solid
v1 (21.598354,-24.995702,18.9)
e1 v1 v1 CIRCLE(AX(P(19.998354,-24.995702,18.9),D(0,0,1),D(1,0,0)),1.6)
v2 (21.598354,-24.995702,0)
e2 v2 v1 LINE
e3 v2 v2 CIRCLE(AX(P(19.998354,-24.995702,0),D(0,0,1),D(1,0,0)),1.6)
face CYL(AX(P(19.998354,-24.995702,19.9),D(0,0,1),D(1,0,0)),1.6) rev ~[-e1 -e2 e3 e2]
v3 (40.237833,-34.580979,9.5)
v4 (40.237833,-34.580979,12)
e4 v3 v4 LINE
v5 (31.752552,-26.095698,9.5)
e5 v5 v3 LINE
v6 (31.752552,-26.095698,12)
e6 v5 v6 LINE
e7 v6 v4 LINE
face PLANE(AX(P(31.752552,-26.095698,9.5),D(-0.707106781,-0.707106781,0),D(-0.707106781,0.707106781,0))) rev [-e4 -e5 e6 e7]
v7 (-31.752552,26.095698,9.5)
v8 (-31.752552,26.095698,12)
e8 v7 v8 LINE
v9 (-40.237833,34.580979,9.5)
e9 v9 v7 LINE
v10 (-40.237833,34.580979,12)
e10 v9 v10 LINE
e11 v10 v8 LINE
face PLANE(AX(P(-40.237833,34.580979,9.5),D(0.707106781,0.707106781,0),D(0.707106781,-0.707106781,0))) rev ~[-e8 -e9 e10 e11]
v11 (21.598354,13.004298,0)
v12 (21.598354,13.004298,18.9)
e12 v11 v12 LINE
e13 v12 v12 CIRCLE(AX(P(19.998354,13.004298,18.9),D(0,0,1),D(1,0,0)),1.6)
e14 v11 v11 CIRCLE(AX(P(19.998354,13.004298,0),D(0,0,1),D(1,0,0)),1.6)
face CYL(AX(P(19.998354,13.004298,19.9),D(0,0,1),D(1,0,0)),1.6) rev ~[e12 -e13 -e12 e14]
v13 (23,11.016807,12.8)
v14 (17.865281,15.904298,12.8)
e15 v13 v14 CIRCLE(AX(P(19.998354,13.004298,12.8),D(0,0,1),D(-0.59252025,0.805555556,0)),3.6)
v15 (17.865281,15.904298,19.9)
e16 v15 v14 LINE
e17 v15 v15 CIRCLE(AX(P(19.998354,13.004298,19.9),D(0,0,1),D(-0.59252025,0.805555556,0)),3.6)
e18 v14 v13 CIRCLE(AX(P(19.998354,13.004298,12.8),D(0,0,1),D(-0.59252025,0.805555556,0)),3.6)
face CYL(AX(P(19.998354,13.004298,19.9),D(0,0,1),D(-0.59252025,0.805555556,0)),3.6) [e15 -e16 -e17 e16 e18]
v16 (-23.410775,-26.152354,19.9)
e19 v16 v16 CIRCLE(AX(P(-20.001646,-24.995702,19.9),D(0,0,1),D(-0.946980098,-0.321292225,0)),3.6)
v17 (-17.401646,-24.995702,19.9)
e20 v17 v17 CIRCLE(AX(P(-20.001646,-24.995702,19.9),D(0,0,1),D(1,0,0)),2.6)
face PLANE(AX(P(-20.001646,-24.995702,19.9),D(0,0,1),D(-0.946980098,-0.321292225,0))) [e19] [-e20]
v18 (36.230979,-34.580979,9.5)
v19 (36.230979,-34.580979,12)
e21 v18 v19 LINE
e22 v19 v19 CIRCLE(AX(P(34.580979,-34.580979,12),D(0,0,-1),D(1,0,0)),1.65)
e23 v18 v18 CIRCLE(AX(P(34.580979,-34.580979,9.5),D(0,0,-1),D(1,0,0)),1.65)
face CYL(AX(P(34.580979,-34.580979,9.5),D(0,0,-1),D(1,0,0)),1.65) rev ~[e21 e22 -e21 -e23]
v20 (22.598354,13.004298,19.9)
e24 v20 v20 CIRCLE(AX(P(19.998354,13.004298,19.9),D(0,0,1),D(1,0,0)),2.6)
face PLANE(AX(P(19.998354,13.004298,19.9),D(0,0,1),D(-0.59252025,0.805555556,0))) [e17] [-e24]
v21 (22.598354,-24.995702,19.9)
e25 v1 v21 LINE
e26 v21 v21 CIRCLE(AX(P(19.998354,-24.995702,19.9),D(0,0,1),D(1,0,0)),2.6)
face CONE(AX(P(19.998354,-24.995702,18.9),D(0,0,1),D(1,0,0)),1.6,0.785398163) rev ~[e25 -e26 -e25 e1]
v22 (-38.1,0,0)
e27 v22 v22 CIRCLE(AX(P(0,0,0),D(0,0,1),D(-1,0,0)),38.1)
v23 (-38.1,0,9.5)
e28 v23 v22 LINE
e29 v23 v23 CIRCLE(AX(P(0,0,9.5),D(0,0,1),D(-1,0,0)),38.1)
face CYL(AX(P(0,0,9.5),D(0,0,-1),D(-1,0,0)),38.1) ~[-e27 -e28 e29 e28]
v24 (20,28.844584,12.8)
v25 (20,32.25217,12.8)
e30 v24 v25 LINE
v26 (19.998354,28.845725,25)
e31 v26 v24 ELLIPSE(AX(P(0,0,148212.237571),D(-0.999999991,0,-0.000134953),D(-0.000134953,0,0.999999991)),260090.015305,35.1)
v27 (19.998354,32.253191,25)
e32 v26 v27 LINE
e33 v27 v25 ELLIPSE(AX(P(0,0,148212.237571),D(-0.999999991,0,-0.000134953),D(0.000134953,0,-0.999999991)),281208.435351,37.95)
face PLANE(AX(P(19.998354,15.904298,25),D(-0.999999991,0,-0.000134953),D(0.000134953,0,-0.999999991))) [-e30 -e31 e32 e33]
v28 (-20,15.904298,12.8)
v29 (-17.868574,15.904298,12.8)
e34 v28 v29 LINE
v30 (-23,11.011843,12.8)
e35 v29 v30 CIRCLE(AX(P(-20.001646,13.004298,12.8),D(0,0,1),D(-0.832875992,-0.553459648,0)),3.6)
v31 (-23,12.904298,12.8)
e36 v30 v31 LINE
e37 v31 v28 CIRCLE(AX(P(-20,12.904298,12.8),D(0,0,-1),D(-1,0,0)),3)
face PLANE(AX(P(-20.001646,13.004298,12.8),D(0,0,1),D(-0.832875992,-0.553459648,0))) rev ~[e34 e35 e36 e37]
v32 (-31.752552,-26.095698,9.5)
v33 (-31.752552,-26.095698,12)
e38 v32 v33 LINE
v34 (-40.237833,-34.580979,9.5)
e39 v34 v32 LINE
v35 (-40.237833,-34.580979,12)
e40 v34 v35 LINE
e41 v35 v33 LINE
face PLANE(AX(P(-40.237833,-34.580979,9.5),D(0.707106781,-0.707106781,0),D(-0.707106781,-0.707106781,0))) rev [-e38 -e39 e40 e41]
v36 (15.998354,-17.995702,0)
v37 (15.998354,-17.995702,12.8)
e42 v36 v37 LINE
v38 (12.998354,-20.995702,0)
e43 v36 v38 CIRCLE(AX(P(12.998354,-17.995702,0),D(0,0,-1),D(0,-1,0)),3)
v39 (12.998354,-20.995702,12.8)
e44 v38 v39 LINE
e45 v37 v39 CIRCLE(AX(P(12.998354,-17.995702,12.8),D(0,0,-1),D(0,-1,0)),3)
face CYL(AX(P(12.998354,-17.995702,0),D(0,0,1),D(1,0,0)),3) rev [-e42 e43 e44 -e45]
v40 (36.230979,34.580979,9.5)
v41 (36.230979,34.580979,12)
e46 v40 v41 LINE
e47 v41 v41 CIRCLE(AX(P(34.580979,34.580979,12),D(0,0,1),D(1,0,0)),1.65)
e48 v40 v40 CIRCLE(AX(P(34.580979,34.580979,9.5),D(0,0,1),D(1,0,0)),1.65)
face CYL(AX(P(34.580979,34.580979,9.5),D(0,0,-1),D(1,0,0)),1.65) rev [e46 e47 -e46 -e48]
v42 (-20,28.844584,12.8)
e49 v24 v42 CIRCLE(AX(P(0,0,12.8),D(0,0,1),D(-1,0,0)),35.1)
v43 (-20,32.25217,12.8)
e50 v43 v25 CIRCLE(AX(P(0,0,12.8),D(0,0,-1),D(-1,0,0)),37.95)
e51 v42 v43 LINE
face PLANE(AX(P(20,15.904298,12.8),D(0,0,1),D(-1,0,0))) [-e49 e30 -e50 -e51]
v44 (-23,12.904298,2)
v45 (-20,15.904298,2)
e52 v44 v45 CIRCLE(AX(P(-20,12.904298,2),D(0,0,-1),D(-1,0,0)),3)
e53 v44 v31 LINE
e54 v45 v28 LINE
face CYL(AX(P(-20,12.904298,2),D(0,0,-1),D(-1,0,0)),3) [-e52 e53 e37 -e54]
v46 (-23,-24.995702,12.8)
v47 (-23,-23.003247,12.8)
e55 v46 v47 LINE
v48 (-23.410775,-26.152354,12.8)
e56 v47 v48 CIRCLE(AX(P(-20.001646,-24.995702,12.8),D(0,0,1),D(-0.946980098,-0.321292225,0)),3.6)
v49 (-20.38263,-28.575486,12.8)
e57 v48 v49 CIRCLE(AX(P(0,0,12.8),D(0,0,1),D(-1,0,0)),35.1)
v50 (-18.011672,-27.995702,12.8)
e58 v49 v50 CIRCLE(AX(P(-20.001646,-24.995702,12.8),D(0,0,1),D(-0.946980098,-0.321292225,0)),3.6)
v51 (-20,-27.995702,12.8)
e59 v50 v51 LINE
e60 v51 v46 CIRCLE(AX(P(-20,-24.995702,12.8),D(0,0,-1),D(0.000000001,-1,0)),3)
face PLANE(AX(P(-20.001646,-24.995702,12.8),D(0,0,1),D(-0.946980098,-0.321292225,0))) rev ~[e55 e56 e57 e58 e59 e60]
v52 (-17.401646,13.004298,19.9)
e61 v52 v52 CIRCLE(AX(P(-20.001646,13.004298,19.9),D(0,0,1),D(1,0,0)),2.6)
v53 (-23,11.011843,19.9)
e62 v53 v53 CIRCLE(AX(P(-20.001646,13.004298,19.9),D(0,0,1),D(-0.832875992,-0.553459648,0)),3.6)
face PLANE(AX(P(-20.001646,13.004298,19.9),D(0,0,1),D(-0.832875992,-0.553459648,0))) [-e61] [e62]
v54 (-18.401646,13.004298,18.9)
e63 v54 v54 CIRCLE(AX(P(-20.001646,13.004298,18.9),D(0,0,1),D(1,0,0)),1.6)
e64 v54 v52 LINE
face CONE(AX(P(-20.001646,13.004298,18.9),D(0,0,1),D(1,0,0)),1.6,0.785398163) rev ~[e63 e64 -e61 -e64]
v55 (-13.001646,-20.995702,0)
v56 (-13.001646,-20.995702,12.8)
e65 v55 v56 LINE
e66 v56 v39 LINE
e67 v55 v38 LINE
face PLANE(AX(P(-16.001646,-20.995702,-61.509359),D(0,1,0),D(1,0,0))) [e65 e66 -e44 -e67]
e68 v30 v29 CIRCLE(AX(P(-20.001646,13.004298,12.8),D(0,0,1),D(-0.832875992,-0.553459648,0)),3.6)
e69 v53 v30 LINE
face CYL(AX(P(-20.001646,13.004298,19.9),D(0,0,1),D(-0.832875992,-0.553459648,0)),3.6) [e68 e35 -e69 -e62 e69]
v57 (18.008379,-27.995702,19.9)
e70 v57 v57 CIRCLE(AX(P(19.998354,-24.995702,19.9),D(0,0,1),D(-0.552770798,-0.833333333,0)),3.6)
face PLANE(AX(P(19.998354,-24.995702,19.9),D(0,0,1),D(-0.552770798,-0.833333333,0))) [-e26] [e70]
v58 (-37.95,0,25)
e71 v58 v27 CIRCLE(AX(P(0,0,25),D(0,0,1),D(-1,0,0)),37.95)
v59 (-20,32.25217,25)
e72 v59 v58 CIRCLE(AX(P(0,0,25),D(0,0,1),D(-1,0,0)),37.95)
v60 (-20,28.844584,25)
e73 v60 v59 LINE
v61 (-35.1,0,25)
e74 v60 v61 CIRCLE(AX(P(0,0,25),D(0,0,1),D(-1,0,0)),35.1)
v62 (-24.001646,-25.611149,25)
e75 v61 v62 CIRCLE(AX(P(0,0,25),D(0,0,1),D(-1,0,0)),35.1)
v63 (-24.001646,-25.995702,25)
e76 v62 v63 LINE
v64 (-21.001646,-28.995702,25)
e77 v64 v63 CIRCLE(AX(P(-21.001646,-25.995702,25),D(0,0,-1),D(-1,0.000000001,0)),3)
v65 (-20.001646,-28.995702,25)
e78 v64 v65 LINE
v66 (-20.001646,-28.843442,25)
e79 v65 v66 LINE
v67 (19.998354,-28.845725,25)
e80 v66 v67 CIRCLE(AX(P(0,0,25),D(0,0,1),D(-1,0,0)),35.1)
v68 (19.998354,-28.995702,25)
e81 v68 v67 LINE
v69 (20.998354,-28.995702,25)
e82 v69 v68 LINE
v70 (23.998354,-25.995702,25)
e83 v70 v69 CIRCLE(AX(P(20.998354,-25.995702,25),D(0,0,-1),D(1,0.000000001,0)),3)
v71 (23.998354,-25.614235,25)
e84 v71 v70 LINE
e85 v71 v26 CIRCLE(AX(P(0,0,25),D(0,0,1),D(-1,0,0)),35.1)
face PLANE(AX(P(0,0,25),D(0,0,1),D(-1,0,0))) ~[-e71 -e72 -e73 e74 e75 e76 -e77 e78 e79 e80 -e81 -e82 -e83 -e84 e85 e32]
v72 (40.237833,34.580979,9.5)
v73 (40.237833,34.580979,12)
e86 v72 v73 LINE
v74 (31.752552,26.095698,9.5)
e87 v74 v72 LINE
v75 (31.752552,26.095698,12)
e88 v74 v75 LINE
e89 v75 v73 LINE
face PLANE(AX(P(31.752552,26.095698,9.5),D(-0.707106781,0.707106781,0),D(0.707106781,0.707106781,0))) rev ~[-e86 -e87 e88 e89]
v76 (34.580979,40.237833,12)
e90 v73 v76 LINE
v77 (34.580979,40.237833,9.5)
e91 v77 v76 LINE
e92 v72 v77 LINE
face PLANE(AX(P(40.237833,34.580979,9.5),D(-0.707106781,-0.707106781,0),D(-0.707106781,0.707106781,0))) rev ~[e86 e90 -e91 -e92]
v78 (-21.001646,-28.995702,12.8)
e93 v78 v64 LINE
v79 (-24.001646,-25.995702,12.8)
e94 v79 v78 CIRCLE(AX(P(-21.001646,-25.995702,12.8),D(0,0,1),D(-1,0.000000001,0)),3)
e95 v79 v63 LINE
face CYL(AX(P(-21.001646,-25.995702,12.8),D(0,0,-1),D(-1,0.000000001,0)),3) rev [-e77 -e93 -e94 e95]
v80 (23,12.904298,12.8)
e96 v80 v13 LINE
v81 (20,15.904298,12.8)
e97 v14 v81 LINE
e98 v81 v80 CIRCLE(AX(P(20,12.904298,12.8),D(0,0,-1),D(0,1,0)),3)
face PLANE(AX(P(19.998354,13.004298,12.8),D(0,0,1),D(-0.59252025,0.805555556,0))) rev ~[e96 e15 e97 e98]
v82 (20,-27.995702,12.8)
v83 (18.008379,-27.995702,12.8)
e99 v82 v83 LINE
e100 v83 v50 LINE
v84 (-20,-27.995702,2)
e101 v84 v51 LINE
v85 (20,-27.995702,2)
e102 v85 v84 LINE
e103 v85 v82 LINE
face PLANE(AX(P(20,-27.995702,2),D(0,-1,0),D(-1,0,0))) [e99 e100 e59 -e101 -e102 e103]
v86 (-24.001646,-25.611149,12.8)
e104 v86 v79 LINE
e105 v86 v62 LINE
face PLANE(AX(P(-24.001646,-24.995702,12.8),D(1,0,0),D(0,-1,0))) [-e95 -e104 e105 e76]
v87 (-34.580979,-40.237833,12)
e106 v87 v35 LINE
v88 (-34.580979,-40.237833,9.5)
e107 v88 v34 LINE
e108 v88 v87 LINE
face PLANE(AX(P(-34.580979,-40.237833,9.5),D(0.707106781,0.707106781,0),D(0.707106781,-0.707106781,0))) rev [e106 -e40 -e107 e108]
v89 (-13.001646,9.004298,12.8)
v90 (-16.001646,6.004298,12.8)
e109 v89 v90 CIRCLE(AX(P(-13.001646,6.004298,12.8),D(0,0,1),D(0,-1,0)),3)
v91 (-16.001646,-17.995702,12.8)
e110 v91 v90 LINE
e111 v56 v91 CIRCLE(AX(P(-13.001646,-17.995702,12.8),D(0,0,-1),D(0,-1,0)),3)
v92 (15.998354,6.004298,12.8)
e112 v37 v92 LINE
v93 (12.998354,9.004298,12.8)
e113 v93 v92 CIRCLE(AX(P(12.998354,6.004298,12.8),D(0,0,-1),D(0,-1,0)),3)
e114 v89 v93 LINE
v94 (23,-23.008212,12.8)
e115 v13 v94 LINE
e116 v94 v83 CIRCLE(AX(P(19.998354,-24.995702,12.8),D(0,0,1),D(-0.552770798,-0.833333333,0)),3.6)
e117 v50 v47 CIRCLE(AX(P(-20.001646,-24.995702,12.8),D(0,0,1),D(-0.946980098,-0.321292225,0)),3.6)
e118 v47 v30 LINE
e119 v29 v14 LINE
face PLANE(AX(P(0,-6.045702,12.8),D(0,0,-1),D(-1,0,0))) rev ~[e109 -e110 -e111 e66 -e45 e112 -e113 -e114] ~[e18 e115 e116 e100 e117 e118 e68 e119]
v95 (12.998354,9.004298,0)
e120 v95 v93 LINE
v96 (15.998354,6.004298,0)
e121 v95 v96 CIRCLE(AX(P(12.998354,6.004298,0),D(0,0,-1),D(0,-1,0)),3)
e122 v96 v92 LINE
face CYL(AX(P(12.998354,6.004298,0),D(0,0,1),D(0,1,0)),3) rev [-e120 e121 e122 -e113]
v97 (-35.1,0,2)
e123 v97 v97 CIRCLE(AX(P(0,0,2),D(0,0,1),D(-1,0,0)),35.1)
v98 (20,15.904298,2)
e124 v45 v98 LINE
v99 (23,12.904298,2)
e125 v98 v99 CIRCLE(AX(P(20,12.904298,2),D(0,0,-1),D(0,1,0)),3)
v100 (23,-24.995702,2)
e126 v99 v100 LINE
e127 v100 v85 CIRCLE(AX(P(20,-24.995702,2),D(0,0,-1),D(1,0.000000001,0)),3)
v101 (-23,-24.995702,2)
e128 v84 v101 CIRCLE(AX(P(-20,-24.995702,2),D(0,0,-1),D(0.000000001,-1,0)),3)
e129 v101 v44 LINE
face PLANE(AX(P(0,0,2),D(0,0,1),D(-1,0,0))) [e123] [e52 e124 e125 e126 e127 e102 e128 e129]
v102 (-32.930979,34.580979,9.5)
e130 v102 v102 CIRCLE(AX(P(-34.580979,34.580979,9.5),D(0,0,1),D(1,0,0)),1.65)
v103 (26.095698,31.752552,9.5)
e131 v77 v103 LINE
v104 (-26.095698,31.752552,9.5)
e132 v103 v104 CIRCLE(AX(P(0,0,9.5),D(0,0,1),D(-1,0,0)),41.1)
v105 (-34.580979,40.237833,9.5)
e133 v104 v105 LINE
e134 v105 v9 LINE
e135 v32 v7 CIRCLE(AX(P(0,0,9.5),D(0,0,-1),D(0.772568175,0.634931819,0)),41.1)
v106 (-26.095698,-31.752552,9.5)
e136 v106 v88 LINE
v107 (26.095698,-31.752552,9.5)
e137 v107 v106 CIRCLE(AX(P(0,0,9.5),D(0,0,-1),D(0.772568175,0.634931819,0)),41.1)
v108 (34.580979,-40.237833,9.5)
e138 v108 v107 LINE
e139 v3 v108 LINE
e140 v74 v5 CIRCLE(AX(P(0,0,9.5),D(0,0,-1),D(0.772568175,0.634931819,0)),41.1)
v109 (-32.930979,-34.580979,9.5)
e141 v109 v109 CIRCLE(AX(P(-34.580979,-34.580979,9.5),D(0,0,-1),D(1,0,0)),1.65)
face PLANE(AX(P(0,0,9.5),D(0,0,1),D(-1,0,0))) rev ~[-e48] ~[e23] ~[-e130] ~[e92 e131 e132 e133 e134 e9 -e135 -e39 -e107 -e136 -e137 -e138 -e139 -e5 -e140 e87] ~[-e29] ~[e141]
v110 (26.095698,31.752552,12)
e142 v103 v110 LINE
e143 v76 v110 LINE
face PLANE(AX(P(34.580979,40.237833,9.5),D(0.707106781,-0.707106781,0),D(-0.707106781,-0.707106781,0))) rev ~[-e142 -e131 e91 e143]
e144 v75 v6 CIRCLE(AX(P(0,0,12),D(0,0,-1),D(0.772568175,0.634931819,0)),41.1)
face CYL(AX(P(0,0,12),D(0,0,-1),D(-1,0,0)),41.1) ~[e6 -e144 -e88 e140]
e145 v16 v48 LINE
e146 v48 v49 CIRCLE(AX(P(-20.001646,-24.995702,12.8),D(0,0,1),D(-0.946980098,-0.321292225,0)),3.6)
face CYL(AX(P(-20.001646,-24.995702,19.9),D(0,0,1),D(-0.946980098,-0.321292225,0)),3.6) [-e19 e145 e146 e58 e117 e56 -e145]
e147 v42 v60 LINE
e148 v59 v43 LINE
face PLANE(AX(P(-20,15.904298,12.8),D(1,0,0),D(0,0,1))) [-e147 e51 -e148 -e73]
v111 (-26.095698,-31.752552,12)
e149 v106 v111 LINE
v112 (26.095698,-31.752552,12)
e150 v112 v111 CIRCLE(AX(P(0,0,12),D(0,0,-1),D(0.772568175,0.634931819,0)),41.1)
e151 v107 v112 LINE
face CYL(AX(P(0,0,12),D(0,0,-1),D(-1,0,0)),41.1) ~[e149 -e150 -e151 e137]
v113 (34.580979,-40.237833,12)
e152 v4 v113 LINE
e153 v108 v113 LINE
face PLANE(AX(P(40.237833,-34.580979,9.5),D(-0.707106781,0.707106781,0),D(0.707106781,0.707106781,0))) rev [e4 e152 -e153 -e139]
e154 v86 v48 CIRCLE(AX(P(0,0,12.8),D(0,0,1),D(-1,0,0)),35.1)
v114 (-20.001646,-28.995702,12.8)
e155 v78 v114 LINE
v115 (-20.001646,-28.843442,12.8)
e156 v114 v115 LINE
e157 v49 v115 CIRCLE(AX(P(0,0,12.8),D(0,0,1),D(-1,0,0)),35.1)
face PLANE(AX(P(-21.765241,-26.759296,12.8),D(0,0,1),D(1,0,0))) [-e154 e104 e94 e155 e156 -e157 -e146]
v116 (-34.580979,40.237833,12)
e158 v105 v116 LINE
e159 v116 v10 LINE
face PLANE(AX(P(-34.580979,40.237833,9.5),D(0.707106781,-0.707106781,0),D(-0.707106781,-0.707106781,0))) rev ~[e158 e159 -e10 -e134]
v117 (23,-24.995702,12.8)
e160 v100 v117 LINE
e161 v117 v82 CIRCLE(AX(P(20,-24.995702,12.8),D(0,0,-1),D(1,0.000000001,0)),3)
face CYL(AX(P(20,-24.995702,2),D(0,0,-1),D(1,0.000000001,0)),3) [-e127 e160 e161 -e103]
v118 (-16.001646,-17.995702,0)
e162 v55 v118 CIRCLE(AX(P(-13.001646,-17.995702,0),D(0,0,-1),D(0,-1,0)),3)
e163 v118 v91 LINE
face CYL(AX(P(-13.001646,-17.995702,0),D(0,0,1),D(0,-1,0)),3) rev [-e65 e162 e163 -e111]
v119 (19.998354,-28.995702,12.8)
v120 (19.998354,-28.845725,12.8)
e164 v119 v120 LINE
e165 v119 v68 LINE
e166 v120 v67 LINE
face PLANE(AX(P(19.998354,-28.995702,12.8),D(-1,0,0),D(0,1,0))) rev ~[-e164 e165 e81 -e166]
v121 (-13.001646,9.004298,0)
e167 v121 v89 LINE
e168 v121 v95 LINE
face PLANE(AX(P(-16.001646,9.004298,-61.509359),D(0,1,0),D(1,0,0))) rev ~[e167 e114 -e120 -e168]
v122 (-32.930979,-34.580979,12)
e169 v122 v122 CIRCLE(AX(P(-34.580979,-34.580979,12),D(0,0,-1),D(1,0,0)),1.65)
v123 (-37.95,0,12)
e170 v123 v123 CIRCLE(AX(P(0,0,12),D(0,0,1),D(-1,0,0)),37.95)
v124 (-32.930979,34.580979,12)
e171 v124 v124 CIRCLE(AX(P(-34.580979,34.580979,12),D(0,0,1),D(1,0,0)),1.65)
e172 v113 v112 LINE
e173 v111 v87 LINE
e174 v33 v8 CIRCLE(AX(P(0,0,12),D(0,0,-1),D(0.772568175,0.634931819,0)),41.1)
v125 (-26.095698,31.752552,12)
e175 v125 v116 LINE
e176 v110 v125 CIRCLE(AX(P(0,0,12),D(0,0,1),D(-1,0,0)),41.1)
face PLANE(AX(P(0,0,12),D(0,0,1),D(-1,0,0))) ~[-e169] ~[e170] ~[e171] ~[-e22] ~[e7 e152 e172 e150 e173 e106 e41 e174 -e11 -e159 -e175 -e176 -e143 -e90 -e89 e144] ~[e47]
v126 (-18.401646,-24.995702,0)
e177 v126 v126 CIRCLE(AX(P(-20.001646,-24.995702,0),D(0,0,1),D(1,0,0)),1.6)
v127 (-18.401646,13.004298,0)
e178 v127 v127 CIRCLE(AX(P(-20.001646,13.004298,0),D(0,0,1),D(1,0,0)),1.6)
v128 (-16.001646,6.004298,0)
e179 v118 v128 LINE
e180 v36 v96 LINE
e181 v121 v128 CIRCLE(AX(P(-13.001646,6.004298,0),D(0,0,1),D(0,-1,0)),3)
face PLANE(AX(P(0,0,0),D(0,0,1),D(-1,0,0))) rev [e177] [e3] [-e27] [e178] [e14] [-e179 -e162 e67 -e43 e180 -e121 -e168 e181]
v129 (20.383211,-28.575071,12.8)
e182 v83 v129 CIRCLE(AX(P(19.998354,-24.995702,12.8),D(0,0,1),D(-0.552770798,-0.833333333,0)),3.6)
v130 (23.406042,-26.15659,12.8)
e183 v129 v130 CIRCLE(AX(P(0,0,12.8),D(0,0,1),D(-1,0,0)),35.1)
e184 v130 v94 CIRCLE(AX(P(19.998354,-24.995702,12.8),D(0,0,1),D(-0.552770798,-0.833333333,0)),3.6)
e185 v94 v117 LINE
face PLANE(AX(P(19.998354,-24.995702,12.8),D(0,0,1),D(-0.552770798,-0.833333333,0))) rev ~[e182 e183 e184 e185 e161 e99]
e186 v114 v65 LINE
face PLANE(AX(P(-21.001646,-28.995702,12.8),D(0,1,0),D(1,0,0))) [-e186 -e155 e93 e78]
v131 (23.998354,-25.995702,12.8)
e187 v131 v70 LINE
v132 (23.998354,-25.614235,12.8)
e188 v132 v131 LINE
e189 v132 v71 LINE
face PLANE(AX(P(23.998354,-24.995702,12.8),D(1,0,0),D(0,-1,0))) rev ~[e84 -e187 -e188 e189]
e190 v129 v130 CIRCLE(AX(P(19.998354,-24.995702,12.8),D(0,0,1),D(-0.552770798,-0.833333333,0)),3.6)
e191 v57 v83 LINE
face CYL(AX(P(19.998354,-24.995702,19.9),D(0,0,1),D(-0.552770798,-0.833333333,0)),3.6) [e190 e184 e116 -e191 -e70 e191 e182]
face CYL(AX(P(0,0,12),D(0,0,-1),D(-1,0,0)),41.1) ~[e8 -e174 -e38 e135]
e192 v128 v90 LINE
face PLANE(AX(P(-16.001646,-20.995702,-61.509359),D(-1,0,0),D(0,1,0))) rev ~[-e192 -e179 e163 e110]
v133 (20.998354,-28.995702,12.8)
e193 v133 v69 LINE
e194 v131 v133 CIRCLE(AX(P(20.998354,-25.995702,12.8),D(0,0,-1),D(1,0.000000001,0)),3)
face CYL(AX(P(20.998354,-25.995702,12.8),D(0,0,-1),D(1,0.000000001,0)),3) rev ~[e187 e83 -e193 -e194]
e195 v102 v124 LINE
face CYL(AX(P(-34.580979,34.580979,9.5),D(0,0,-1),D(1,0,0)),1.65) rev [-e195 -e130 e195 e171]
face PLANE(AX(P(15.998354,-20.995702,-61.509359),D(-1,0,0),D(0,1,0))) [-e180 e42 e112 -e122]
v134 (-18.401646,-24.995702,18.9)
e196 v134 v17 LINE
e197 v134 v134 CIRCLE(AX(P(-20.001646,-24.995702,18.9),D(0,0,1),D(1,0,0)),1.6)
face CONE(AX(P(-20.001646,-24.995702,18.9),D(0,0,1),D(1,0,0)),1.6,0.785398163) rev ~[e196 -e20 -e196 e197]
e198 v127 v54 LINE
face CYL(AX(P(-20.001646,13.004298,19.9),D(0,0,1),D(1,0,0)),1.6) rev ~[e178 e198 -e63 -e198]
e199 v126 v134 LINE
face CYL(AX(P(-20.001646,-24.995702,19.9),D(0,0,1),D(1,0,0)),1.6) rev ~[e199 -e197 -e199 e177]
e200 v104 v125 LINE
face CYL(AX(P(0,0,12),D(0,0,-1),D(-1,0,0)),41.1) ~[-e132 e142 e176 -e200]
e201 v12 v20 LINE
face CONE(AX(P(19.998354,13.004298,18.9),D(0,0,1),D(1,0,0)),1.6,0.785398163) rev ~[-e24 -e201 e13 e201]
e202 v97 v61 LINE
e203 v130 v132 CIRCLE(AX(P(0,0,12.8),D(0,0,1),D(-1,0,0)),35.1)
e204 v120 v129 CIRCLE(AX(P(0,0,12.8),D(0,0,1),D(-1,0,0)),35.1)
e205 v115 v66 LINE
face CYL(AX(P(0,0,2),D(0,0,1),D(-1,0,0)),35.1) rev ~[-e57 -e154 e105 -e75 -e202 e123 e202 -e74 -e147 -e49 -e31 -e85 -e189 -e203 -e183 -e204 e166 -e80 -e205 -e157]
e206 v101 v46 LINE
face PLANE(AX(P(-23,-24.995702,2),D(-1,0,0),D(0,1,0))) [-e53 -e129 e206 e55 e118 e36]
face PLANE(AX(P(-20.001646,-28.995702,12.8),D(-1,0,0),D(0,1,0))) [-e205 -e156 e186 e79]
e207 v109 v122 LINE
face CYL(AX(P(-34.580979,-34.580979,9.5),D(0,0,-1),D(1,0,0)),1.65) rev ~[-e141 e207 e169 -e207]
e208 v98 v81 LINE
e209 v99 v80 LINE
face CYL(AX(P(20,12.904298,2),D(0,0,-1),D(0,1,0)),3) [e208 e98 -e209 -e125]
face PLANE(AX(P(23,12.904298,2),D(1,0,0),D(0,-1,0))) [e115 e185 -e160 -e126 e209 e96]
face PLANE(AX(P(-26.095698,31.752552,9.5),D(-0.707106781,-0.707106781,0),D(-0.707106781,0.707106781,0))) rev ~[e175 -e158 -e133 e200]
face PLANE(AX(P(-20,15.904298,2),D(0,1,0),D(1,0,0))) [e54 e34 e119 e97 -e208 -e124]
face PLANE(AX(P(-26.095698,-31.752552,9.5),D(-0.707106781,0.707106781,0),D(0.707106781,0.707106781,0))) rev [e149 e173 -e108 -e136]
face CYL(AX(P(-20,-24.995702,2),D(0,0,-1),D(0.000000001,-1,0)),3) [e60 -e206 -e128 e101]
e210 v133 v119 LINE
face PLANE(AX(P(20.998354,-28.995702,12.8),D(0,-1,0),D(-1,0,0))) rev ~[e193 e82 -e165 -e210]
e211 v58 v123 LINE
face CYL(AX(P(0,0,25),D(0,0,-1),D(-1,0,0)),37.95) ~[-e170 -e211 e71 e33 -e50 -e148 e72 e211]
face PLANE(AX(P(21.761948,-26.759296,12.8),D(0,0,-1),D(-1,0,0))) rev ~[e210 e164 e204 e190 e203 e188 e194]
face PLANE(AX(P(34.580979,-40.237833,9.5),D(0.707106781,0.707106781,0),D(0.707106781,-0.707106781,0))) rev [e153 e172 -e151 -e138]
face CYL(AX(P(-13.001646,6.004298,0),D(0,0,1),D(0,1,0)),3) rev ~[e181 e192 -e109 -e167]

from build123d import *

# Parameters (mm, degrees)
BOSS_EXTRUDE1_DEPTH     = 10.8
CUT_EXTRUDE1_DEPTH      = 63.509359299
CUT_EXTRUDE1_DEPTH_BACK = 63.509359299
SKETCH14_W              = 32
SKETCH14_H              = 30
CUT_EXTRUDE3_DEPTH      = 60.51688836
FILLET1_R               = 3
SKETCH16_R              = 1.6
CUT_EXTRUDE2_DEPTH      = 60.51688836
CUT_EXTRUDE4_DEPTH      = 75.590213715
BOSS_EXTRUDE3_START     = -2.5
SKETCH22_R              = 1.65
BOSS_EXTRUDE3_DEPTH     = 2.5
BOSS_EXTRUDE4_START     = 7.1
SKETCH24_R              = 3.6
SKETCH24_R_2            = 1.6
BOSS_EXTRUDE4_DEPTH     = 7.1
CHAMFER1_SIZE           = 1


with BuildPart() as part:
    # Sketch6 → Revolve1 (revolve)
    with BuildSketch(Plane(origin=(0, 0, 0), x_dir=(0, 0, -1), z_dir=(1, 0, 0)), mode=Mode.PRIVATE) as revolve1_sk:
        Polygon((-2, 25.4), (-2, 35.1), (-25, 35.1), (-25, 37.95), (-12, 37.95), (-12, 41.1), (-9.5, 41.1), (-9.5, 38.1), (0, 38.1), (0, 25.4), (0, 0), (-2, 0), align=None)
    revolve(revolve1_sk.sketch.rotate(Axis((0, 0, 0), (0, 0, 1)), 90), axis=Axis((0, 0, 0), (0, 0, 1)))

    # Sketch15 → Boss-Extrude1 (add)
    with BuildSketch(Plane.XY.offset(2)):
        with BuildLine():
            Line((-20, 15.904297927), (20, 15.904297927))
            ThreePointArc((20, 15.904297927), (22.121320344, 15.02561827), (23, 12.904297927))
            Line((23, 12.904297927), (23, -24.995702073))
            ThreePointArc((23, -24.995702073), (22.121320344, -27.117022417), (20, -27.995702073))
            Line((20, -27.995702073), (-20, -27.995702073))
            ThreePointArc((-20, -27.995702073), (-22.121320344, -27.117022417), (-23, -24.995702073))
            Line((-23, -24.995702073), (-23, 12.904297927))
            ThreePointArc((-23, 12.904297927), (-22.121320344, 15.02561827), (-20, 15.904297927))
        make_face()
    extrude(amount=BOSS_EXTRUDE1_DEPTH)

    # Sketch14 → Cut-Extrude1 (cut, two sides: drawn at the far end of the back side and taken through both)
    with BuildSketch(Plane.XY.offset(2).offset(-CUT_EXTRUDE1_DEPTH_BACK)):
        with Locations((-0.00164643, -5.995702073)):
            Rectangle(SKETCH14_W, SKETCH14_H)
    extrude(amount=CUT_EXTRUDE1_DEPTH + CUT_EXTRUDE1_DEPTH_BACK, mode=Mode.SUBTRACT)

    # Sketch18 → Cut-Extrude3 (cut, through all)
    with BuildSketch(Plane.XY.offset(12.8)):
        with BuildLine():
            Line((19.99835357, -24.995702073), (23.99835357, -24.995702073))
            Line((23.99835357, -24.995702073), (23.99835357, -25.995702073))
            ThreePointArc((23.99835357, -25.995702073), (23.119673914, -28.117022417), (20.99835357, -28.995702073))
            Line((20.99835357, -28.995702073), (19.99835357, -28.995702073))
            Line((19.99835357, -28.995702073), (19.99835357, -24.995702073))
        make_face()
        with BuildLine():
            Line((-20.00164643, -24.995702073), (-24.00164643, -24.995702073))
            Line((-24.00164643, -24.995702073), (-24.00164643, -25.995702073))
            ThreePointArc((-24.00164643, -25.995702073), (-23.122966774, -28.117022417), (-21.00164643, -28.995702073))
            Line((-21.00164643, -28.995702073), (-20.00164643, -28.995702073))
            Line((-20.00164643, -28.995702073), (-20.00164643, -24.995702073))
        make_face()
    extrude(amount=CUT_EXTRUDE3_DEPTH, mode=Mode.SUBTRACT)

    # Fillet1
    fillet1_edges = [part.edges().sort_by_distance(p)[0] for p in [
        (-16.00164643, 9.004297927, 6.4),
        (-16.00164643, -20.995702073, 6.4),
        (15.99835357, -20.995702073, 6.4),
        (15.99835357, 9.004297927, 6.4),
    ]]
    fillet(fillet1_edges, radius=FILLET1_R)

    # Sketch16 → Cut-Extrude2 (cut, through all)
    with BuildSketch(Plane.XY.offset(12.8)):
        with Locations((-20.00164643, 13.004297927)):
            Circle(SKETCH16_R)
        with Locations((-20.00164643, -24.995702073)):
            Circle(SKETCH16_R)
        with Locations((19.99835357, -24.995702073)):
            Circle(SKETCH16_R)
        with Locations((19.99835357, 13.004297927)):
            Circle(SKETCH16_R)
    extrude(amount=-CUT_EXTRUDE2_DEPTH, mode=Mode.SUBTRACT)

    # Sketch20 → Cut-Extrude4 (cut, through all)
    with BuildSketch(Plane(origin=(0, 15.904297927, 0), x_dir=(1, 0, 0), z_dir=(0, 1, 0))):
        Polygon((20, -12.8), (-20, -12.8), (-20, -25), (19.99835357, -25), align=None)
    extrude(amount=CUT_EXTRUDE4_DEPTH, mode=Mode.SUBTRACT)

    # Sketch22 → Boss-Extrude3 (add)
    # profile 1 of 2: a face of its own
    with BuildSketch(Plane.XY.offset(12).offset(BOSS_EXTRUDE3_START)):
        with BuildLine():
            Line((-40.237833378, 34.580979128), (-31.752552003, 26.095697754))
            ThreePointArc((-31.752552003, 26.095697754), (-29.062088707, 29.062088707), (-26.095697754, 31.752552003))
            Line((-26.095697754, 31.752552003), (-34.580979128, 40.237833378))
            Line((-34.580979128, 40.237833378), (-40.237833378, 34.580979128))
        make_face()
        with Locations((-34.580979128, 34.580979128)):
            Circle(SKETCH22_R, mode=Mode.SUBTRACT)
    # profile 2 of 2: a face of its own
    with BuildSketch(Plane.XY.offset(12).offset(BOSS_EXTRUDE3_START)):
        with BuildLine():
            ThreePointArc((26.095697754, 31.752552003), (29.062088707, 29.062088707), (31.752552003, 26.095697754))
            Line((31.752552003, 26.095697754), (40.237833378, 34.580979128))
            Line((40.237833378, 34.580979128), (34.580979128, 40.237833378))
            Line((34.580979128, 40.237833378), (26.095697754, 31.752552003))
        make_face()
        with Locations((34.580979128, 34.580979128)):
            Circle(SKETCH22_R, mode=Mode.SUBTRACT)
    boss_extrude3 = extrude(amount=BOSS_EXTRUDE3_DEPTH)

    # Sketch24 → Boss-Extrude4 (add)
    # profile 1 of 4: a face of its own
    with BuildSketch(Plane.XY.offset(12.8).offset(BOSS_EXTRUDE4_START)):
        with Locations(Location((-20.00164643, 13.004297927, 0), (0, 0, 213.6046846))):
            Circle(SKETCH24_R)
        with Locations((-20.00164643, 13.004297927)):
            Circle(SKETCH24_R_2, mode=Mode.SUBTRACT)
    # profile 2 of 4: a face of its own
    with BuildSketch(Plane.XY.offset(12.8).offset(BOSS_EXTRUDE4_START)):
        with Locations(Location((19.99835357, 13.004297927, 0), (0, 0, 126.336057515))):
            Circle(SKETCH24_R)
        with Locations((19.99835357, 13.004297927)):
            Circle(SKETCH24_R_2, mode=Mode.SUBTRACT)
    # profile 3 of 4: a face of its own
    with BuildSketch(Plane.XY.offset(12.8).offset(BOSS_EXTRUDE4_START)):
        with Locations(Location((-20.00164643, -24.995702073, 0), (0, 0, 198.741091164))):
            Circle(SKETCH24_R)
        with Locations((-20.00164643, -24.995702073)):
            Circle(SKETCH24_R_2, mode=Mode.SUBTRACT)
    # profile 4 of 4: a face of its own
    with BuildSketch(Plane.XY.offset(12.8).offset(BOSS_EXTRUDE4_START)):
        with Locations(Location((19.99835357, -24.995702073, 0), (0, 0, 236.442690237))):
            Circle(SKETCH24_R)
        with Locations((19.99835357, -24.995702073)):
            Circle(SKETCH24_R_2, mode=Mode.SUBTRACT)
    extrude(amount=-BOSS_EXTRUDE4_DEPTH)

    # Chamfer1
    chamfer1_edges = [part.edges().sort_by_distance(p)[0] for p in [
        (-21.60164643, 13.004297927, 19.9),
        (18.39835357, 13.004297927, 19.9),
        (-21.60164643, -24.995702073, 19.9),
        (18.39835357, -24.995702073, 19.9),
    ]]
    chamfer(chamfer1_edges, length=CHAMFER1_SIZE)

    # Mirror1: Boss-Extrude3 across plane
    add(boss_extrude3.mirror(Plane.ZX))


solid = part.part
